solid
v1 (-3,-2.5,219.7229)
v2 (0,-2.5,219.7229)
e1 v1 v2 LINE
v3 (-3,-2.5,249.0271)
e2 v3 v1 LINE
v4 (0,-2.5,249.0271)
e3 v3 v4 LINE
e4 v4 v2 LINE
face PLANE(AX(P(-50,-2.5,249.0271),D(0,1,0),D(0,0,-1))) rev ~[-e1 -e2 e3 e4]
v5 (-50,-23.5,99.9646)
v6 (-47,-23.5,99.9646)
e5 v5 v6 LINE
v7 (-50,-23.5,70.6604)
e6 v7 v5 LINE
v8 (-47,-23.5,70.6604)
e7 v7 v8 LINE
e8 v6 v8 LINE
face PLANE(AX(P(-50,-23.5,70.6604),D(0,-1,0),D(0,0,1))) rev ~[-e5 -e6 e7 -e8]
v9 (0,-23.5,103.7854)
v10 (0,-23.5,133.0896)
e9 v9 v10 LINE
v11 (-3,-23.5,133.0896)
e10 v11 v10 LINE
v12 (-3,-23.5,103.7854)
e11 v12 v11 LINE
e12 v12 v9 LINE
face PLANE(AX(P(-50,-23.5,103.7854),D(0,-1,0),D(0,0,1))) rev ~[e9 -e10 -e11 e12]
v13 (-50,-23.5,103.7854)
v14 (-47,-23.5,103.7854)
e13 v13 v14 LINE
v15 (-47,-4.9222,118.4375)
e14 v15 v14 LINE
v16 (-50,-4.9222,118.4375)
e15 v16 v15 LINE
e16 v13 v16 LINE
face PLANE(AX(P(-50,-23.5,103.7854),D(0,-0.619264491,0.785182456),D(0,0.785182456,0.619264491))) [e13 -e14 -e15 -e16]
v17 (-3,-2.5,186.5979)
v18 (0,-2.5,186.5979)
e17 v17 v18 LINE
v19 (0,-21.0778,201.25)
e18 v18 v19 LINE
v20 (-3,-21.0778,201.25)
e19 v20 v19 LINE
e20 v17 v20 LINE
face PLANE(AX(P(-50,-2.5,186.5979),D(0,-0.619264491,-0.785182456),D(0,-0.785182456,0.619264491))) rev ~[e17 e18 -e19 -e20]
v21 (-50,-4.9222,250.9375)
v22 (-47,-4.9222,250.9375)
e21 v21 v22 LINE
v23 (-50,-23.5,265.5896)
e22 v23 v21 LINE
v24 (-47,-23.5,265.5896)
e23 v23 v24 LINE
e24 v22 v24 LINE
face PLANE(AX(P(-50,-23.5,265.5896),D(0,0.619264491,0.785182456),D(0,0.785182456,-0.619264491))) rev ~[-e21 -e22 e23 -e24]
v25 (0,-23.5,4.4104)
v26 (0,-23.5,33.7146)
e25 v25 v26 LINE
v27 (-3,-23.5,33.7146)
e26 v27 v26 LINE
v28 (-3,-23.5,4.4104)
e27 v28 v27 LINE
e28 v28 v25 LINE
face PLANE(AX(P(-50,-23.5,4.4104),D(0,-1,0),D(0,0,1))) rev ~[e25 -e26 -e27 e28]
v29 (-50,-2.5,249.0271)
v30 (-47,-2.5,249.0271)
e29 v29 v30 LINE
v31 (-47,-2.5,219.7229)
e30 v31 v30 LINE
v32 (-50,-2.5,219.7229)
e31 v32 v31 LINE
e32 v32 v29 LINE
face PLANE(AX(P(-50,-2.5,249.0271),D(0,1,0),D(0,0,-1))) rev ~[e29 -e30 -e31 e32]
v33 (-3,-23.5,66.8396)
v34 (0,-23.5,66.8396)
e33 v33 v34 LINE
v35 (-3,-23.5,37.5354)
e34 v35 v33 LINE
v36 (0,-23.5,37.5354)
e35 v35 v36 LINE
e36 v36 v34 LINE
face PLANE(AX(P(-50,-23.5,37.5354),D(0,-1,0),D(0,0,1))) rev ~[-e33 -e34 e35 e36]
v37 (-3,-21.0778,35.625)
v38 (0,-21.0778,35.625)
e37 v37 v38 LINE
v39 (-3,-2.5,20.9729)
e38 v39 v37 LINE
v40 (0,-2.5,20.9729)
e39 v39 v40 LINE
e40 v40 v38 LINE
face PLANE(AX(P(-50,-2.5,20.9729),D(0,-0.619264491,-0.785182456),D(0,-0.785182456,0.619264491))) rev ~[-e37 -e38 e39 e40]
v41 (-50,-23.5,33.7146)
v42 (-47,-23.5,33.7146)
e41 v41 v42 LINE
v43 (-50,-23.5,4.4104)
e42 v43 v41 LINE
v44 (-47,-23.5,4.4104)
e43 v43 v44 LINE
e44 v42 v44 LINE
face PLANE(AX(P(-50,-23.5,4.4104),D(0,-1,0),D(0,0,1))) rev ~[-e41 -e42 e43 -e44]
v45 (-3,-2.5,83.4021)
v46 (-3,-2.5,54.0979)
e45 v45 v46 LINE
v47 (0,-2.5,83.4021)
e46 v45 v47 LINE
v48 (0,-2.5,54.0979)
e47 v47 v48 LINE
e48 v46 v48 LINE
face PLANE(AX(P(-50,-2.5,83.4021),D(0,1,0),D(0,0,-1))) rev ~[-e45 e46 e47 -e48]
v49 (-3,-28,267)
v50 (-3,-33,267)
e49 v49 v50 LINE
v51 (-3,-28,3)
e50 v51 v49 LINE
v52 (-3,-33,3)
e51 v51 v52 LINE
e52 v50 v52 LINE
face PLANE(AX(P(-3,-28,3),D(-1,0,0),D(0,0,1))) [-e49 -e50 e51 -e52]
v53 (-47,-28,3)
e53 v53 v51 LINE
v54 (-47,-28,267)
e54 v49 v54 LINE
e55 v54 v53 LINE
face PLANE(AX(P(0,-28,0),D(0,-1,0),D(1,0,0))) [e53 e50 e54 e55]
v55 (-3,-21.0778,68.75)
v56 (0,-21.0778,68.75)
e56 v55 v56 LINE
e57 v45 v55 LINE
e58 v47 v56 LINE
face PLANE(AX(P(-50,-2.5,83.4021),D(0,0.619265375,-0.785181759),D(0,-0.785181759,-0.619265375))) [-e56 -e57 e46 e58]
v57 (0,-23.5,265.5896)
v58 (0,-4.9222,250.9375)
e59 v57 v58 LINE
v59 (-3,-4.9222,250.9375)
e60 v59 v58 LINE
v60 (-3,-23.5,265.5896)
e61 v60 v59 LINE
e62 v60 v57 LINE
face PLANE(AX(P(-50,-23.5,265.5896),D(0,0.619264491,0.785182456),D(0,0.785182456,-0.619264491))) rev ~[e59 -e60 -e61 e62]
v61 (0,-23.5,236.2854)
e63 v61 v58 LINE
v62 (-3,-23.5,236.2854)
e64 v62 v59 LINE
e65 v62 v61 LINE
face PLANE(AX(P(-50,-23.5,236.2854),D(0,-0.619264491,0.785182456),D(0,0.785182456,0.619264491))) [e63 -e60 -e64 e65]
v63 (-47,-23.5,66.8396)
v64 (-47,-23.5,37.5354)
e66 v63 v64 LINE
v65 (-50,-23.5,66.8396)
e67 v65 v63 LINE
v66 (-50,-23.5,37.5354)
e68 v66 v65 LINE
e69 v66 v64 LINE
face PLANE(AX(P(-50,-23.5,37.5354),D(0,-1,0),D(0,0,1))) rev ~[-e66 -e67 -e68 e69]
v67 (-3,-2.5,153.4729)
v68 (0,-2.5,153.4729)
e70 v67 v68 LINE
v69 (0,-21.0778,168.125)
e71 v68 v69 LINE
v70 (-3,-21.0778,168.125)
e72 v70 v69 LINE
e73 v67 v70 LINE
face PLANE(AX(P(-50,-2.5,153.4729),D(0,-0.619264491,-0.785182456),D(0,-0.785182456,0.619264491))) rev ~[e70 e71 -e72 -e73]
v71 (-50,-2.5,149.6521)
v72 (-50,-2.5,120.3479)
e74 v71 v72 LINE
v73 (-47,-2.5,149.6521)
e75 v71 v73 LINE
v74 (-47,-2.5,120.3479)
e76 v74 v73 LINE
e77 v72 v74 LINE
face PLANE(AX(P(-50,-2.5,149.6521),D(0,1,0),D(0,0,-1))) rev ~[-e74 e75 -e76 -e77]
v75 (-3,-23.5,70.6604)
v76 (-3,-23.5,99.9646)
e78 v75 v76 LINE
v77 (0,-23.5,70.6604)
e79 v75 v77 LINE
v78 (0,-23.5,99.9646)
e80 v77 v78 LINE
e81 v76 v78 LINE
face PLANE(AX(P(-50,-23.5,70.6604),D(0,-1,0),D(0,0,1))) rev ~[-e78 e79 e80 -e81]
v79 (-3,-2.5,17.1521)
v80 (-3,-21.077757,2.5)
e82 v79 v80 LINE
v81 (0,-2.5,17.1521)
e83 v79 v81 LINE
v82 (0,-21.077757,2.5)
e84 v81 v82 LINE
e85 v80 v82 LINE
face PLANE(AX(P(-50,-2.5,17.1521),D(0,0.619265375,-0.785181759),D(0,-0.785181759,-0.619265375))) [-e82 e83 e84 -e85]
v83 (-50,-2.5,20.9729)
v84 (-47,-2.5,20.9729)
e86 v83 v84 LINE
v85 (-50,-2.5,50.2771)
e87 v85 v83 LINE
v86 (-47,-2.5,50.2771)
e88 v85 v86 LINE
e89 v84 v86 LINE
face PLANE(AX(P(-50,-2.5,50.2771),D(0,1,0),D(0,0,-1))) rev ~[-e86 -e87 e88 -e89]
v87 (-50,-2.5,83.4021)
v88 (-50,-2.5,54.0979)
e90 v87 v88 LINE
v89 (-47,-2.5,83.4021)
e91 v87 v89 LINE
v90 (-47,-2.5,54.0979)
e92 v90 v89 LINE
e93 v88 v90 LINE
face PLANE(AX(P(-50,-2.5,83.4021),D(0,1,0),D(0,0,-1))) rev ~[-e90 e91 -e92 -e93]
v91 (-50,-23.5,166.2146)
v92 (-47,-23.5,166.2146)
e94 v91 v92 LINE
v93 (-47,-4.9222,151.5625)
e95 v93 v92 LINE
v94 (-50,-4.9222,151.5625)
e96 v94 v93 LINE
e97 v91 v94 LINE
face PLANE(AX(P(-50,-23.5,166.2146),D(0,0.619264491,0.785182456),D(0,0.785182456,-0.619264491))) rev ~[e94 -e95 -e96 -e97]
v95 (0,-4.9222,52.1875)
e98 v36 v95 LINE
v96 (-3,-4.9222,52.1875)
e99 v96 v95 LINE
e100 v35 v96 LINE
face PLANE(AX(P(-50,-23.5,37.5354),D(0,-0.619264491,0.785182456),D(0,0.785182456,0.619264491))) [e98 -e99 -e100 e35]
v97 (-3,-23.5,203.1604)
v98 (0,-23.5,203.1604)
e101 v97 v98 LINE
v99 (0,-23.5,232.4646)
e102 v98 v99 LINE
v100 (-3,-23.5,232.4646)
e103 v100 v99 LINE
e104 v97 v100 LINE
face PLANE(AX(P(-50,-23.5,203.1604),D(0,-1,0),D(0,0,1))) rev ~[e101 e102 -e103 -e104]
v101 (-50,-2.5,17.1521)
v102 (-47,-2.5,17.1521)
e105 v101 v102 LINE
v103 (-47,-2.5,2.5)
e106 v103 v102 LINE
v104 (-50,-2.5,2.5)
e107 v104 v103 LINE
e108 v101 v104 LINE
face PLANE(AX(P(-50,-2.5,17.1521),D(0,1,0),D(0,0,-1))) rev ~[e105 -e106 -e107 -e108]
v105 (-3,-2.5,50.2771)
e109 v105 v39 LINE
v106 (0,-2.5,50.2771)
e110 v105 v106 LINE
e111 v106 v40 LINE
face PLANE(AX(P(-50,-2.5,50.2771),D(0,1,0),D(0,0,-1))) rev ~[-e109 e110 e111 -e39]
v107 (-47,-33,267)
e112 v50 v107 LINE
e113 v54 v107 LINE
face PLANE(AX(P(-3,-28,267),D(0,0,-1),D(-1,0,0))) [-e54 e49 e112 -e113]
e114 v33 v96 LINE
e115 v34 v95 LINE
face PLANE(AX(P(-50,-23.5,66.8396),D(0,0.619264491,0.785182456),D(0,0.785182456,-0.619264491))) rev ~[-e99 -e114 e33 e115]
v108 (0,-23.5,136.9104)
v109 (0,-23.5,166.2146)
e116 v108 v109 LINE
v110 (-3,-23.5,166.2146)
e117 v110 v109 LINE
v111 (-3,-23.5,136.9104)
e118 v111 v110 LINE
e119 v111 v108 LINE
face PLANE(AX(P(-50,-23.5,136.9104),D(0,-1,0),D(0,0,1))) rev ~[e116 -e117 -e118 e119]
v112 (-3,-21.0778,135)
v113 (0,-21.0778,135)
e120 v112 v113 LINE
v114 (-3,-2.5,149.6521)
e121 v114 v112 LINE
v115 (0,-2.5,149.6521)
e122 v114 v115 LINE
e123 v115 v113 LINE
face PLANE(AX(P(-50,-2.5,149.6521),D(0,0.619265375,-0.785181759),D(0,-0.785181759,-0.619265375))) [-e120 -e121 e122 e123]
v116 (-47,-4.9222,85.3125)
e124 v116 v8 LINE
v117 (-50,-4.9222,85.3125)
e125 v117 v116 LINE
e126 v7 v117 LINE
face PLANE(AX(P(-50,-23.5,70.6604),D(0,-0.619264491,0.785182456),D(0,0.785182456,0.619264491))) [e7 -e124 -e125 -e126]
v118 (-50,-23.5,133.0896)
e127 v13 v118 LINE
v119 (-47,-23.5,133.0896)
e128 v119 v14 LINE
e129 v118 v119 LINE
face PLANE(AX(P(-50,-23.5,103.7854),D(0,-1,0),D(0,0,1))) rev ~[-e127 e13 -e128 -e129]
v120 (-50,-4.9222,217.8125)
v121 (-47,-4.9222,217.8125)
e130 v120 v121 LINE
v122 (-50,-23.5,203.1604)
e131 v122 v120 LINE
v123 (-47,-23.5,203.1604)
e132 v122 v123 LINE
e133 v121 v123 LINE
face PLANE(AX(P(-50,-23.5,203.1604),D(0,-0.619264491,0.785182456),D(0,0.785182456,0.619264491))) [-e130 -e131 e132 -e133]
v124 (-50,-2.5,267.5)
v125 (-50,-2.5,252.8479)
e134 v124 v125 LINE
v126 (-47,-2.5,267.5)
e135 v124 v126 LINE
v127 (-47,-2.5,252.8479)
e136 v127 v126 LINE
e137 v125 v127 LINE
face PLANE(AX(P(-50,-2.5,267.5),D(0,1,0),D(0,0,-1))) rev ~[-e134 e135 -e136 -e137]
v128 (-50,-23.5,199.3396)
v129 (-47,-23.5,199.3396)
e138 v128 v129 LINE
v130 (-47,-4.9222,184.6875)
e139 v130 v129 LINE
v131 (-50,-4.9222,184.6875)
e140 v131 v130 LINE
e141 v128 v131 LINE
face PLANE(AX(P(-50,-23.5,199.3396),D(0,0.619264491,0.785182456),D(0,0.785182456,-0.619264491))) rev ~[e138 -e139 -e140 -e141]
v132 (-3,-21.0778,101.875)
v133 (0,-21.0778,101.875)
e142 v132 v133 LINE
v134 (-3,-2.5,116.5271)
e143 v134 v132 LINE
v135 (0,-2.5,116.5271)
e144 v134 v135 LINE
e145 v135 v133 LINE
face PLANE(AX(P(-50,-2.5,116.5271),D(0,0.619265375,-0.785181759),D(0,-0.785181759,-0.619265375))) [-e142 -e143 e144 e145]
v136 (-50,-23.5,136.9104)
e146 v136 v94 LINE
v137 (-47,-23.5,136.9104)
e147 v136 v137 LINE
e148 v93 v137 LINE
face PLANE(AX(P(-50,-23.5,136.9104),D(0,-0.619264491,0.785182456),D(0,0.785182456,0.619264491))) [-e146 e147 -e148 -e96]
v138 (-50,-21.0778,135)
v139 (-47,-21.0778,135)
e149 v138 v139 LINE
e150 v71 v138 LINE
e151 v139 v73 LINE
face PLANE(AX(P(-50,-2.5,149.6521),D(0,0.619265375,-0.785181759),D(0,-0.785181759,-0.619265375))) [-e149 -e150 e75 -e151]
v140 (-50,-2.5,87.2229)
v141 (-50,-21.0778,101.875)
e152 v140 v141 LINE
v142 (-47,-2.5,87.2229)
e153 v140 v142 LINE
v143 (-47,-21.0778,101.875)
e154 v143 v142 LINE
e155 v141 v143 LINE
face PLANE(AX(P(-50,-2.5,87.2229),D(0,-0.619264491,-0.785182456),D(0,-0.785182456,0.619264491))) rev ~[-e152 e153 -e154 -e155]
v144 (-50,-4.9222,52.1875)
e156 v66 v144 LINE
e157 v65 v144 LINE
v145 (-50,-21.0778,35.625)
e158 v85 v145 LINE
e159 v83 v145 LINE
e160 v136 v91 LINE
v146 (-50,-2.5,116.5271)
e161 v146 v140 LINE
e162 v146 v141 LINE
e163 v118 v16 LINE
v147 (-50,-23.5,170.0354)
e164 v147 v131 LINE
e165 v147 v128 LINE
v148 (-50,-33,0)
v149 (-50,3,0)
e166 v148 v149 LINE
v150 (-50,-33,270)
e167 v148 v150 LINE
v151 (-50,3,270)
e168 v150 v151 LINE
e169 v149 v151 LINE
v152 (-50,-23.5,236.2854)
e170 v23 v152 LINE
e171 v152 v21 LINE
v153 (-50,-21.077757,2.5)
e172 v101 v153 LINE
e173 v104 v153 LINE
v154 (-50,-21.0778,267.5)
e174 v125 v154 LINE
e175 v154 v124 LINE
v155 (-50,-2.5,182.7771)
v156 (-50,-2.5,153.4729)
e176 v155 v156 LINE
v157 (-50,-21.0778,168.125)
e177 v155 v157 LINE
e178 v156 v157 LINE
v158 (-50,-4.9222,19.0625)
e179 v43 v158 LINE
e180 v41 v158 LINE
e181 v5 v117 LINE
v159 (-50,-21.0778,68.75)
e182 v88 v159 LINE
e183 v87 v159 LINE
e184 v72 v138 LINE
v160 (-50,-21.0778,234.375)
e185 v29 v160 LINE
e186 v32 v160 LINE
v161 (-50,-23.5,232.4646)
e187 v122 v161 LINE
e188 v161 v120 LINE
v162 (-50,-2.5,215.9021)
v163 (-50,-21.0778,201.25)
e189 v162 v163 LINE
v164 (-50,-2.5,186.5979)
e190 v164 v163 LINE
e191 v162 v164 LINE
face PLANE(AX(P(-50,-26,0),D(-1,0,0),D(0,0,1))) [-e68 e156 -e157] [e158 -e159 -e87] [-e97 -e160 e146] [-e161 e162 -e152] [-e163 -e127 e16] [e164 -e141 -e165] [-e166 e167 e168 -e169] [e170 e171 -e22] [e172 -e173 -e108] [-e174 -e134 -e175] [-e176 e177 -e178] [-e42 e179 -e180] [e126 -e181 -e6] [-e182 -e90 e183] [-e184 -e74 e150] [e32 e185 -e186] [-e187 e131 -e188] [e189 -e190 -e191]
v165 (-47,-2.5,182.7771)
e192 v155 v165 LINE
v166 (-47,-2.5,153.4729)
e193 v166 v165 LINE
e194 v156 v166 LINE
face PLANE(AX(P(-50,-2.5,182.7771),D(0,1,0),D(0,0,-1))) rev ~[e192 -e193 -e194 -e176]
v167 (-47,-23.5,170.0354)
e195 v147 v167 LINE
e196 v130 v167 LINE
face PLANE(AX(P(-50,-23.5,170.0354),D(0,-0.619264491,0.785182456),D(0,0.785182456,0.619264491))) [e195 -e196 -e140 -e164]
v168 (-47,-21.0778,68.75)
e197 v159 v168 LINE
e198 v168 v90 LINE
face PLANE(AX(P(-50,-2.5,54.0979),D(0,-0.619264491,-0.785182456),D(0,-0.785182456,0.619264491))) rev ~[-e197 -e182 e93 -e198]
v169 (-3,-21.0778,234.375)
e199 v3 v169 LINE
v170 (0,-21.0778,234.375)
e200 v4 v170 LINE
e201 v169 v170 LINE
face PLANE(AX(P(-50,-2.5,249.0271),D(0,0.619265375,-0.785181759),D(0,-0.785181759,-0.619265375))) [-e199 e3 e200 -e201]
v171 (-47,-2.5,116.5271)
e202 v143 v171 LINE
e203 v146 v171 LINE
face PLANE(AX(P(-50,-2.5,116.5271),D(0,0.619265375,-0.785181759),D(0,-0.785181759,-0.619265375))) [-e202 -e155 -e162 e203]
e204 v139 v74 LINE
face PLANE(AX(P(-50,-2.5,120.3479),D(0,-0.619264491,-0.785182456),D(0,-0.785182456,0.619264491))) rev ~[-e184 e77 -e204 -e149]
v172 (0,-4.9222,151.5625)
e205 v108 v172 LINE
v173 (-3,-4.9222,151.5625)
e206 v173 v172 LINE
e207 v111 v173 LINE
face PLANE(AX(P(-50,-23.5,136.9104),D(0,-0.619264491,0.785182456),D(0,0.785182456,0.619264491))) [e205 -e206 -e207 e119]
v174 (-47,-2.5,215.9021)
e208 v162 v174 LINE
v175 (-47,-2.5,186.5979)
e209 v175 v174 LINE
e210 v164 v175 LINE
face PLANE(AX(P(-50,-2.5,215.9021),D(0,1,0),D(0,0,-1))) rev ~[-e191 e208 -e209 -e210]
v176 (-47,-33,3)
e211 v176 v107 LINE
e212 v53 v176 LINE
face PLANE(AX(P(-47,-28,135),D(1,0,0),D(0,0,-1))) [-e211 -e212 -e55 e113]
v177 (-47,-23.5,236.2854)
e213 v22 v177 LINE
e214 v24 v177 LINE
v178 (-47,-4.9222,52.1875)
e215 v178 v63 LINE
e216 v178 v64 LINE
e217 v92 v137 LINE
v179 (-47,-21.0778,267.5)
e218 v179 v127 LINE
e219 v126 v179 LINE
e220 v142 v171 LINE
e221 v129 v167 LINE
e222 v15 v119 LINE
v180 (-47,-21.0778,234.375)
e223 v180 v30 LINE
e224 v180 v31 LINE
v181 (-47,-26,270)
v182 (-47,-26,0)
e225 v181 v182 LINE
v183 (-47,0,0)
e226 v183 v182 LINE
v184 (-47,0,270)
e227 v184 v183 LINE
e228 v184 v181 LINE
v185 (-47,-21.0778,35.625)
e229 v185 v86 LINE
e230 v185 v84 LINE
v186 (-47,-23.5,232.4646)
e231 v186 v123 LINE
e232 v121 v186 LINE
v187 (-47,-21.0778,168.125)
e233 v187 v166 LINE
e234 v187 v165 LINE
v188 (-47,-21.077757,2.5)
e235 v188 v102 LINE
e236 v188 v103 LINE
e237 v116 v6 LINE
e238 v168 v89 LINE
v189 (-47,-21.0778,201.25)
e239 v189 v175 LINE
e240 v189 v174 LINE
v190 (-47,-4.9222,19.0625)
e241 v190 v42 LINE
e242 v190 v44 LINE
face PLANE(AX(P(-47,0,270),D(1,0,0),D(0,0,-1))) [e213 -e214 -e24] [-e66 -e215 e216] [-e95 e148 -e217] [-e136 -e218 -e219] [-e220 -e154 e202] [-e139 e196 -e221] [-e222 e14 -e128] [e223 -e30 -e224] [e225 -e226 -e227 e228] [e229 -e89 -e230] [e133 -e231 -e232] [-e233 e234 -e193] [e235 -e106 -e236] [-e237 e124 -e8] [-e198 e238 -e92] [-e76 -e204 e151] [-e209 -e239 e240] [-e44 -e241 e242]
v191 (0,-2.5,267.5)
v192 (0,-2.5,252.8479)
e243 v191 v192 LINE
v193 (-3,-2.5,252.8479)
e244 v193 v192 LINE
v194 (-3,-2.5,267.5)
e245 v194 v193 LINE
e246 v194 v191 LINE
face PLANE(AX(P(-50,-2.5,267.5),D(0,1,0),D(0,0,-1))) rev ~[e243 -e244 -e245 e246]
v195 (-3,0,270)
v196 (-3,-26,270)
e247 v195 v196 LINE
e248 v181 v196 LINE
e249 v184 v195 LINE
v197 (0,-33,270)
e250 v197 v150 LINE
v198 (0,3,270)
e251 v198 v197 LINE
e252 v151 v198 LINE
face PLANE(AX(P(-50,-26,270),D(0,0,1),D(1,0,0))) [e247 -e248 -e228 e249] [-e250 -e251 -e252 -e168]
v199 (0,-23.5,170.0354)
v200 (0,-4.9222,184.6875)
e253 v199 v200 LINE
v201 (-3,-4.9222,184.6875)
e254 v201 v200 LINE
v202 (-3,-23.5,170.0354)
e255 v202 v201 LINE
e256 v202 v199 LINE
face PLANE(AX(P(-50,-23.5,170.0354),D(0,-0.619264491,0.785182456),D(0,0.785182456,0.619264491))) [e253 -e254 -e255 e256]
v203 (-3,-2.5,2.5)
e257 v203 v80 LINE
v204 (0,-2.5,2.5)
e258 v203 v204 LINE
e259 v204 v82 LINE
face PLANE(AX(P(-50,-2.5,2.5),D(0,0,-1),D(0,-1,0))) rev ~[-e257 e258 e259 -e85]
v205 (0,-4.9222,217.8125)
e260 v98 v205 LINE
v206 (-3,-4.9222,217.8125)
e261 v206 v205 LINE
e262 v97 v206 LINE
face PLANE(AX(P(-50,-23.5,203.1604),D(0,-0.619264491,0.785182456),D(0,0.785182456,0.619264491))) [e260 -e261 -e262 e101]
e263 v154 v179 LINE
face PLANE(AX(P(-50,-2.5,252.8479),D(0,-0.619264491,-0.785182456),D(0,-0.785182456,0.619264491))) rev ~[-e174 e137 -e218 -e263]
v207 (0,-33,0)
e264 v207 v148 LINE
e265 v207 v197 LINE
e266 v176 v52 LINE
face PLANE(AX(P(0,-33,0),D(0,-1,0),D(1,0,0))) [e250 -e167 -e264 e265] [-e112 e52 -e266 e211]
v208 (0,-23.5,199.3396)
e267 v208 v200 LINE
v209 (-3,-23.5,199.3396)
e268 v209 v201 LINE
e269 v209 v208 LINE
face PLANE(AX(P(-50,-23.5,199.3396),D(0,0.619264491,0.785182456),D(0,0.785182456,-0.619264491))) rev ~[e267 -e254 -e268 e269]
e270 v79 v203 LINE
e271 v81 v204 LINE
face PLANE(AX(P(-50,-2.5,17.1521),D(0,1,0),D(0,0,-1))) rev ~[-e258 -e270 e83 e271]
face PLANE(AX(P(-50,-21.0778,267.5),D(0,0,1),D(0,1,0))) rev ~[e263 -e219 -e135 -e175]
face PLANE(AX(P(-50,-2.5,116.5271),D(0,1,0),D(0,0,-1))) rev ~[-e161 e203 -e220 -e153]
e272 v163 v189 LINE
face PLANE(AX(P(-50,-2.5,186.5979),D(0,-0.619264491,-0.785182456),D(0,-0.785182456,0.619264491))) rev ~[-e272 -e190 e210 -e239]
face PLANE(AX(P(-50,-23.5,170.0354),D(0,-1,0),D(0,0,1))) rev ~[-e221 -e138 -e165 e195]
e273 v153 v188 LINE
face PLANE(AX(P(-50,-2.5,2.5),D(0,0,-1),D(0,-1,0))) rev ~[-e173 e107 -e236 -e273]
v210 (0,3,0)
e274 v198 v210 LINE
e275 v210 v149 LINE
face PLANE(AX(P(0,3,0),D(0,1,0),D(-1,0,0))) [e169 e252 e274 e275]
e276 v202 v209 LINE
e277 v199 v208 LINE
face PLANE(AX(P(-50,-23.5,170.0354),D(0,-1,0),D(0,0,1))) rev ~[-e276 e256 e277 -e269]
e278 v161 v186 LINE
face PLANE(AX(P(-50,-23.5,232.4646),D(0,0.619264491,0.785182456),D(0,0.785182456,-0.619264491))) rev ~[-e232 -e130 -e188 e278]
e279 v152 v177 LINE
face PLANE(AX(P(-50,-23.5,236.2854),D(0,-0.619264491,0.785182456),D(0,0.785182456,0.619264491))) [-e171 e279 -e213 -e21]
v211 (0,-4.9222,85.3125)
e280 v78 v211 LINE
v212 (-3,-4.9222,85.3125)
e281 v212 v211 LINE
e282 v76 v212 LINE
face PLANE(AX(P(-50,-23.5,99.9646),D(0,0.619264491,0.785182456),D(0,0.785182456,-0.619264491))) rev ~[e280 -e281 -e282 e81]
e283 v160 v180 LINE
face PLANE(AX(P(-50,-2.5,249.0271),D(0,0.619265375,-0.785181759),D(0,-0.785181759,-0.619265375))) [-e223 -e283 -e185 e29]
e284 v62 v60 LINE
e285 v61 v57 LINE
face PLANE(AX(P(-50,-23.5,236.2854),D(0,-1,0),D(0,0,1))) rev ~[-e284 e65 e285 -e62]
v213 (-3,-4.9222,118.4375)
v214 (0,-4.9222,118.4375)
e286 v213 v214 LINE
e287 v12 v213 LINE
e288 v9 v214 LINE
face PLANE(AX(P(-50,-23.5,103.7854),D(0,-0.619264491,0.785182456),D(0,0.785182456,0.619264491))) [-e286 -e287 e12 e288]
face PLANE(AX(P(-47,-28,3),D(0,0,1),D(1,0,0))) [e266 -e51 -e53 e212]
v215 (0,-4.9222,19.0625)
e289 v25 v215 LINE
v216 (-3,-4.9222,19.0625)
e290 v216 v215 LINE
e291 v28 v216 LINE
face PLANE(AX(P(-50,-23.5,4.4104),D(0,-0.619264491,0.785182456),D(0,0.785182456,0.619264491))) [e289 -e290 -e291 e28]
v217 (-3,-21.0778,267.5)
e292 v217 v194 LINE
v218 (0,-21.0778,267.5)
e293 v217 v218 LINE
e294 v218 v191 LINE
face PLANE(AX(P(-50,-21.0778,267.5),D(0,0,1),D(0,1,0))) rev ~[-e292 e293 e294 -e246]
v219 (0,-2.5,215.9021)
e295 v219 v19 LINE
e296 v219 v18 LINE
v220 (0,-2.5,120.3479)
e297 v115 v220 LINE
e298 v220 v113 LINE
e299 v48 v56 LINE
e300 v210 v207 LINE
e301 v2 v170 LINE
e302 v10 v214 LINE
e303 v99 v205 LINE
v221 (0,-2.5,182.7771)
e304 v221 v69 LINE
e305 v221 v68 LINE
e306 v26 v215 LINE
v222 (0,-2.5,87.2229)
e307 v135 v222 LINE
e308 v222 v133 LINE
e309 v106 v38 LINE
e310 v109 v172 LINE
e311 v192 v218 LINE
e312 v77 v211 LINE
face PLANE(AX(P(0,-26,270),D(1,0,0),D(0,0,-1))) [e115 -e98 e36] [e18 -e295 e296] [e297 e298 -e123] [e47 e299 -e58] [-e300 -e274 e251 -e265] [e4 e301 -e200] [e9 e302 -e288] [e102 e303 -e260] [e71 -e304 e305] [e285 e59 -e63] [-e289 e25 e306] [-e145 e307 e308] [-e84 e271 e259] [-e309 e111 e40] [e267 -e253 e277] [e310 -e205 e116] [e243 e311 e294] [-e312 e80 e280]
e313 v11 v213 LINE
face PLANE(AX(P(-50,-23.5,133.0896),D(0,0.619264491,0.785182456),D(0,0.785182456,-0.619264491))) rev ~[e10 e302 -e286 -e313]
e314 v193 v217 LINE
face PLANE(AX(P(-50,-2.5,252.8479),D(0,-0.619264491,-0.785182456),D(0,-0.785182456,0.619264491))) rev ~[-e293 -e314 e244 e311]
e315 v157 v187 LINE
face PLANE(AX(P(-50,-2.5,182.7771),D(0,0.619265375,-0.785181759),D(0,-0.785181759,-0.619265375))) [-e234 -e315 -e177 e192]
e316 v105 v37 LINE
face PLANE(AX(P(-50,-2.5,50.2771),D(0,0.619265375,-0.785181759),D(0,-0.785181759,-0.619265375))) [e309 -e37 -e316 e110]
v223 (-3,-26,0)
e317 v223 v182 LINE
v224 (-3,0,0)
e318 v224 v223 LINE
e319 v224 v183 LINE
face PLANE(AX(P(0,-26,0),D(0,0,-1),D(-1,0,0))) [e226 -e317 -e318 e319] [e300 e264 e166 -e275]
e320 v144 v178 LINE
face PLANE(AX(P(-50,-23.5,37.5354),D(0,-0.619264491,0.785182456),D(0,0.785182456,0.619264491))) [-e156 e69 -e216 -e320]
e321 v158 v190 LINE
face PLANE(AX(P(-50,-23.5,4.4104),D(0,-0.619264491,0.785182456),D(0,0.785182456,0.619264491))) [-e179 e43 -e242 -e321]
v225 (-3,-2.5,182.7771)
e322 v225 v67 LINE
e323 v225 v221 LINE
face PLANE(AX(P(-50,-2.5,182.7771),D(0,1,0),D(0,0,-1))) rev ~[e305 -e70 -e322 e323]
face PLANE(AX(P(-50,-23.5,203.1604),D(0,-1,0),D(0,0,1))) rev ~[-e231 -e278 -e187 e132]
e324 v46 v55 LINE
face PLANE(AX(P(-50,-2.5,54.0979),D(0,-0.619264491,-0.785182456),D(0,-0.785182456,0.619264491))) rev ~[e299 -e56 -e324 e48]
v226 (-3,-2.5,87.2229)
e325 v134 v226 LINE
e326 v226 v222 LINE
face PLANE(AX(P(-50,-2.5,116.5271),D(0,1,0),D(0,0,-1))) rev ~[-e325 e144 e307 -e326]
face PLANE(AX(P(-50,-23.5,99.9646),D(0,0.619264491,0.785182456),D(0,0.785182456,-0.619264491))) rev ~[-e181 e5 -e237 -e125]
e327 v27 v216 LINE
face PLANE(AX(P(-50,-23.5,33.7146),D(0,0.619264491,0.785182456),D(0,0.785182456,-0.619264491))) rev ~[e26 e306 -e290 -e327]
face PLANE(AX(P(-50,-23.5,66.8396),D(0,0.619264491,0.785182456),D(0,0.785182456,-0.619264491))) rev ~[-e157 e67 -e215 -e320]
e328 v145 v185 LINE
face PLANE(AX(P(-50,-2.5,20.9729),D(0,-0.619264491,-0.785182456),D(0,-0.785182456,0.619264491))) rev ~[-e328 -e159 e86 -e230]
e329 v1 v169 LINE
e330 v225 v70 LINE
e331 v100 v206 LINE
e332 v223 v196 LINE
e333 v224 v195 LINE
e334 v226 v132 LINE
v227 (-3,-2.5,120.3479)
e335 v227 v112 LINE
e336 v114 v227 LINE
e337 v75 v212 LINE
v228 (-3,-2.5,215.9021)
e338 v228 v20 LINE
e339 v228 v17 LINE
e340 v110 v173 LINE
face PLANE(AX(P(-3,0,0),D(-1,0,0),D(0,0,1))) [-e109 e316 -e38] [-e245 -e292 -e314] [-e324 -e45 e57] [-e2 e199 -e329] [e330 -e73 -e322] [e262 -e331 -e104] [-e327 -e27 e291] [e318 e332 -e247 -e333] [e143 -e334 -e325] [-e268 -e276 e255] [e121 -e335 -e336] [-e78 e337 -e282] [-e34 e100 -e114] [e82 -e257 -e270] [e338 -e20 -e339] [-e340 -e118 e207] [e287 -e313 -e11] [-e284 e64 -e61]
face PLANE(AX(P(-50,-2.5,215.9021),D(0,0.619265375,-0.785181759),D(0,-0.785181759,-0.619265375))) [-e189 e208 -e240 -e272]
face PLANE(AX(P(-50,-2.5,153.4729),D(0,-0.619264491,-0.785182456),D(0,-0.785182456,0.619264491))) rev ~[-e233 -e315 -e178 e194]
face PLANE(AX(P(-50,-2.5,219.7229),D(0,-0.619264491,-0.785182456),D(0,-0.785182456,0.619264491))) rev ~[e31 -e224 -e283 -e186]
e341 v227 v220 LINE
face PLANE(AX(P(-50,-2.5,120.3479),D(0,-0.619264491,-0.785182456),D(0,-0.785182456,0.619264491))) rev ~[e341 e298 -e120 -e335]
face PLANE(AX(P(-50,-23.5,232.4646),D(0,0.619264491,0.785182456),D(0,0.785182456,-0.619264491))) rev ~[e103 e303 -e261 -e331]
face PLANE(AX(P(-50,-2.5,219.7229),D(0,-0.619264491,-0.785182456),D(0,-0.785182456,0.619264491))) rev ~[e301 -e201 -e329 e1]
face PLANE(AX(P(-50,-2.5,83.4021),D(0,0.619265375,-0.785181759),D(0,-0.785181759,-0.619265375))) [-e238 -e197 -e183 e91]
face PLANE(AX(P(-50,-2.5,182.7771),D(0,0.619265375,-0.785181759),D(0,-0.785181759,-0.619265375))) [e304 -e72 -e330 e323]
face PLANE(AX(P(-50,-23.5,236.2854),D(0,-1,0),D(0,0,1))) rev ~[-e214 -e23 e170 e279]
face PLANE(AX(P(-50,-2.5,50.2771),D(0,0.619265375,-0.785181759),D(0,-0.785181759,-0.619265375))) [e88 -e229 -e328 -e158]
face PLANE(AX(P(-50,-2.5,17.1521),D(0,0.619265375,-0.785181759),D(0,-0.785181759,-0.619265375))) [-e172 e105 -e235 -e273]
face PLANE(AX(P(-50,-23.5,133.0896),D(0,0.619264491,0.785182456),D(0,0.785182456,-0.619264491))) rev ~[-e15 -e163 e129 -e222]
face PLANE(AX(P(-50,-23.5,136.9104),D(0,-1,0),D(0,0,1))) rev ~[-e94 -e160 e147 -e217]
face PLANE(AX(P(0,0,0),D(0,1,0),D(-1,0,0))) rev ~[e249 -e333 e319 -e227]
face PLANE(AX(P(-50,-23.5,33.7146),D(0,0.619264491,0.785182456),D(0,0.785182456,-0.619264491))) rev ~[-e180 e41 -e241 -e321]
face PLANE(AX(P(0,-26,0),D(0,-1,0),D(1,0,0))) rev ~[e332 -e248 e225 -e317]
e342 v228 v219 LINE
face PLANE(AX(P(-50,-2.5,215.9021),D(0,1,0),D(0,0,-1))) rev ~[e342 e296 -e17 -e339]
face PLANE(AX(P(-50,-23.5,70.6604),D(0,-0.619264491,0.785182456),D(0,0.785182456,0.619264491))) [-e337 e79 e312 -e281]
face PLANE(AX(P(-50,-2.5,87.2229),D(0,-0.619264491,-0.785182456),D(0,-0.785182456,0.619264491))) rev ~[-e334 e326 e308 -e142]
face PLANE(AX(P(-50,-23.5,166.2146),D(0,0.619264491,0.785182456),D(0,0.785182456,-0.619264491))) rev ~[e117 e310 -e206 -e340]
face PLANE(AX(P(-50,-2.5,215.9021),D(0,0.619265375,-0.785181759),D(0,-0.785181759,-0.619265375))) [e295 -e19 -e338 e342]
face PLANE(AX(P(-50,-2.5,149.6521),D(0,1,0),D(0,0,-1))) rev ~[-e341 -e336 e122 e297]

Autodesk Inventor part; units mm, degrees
ref_plane "YZ Plane" through (0, 0, 0) normal (1, 0, 0) x (0, 1, 0)
ref_plane "XZ Plane" through (0, 0, 0) normal (0, 1, 0) x (-1, 0, 0)
ref_plane "XY Plane" through (0, 0, 0) normal (0, 0, 1) x (1, 0, 0)
sketch "Sketch10" plane through (0, 0, 0) normal (0, 1, 0) x (-1, 0, 0)
  point P0 (0, 0)
sketch "Sketch11" plane through (0, 0, 0) normal (0, 1, 0) x (-1, 0, 0)
  line L0 (0, 0) -> (50, 0)
  line L1 (50, 0) -> (50, 270)
  line L2 (50, 270) -> (0, 270)
  line L3 (0, 270) -> (0, 0)
  dimension "d34" = 50
  dimension "d35" = 270
extrude "Extrusion6" add sketch "Sketch11" along normal blind 3
sketch "Sketch12" plane through (0, 0, 0) normal (0, -1, 0) x (1, 0, 0)
  line L0 (-50, 270) -> (0, 270) projected
  line L1 (-25, 270) -> (-25, 0)
  line L2 (0, 0) -> (-50, 0) projected
  line L3 (-3, 270) -> (-47, 270)
  line L4 (-47, 270) -> (-47, 0)
  line L5 (-47, 0) -> (-3, 0)
  line L6 (-3, 0) -> (-3, 270)
  line L7 (-3, 270) -> (-47, 0) construction
  line L8 (-47, 270) -> (-3, 0) construction
  line L9 (-50, 0) -> (0, 0)
  line L10 (0, 0) -> (0, 270)
  line L11 (0, 270) -> (-50, 270)
  line L12 (-50, 270) -> (-50, 0)
  point P0 (-25, 135)
  point P1 (-3, 0)
  dimension "d38" = 44
extrude "Extrusion7" add sketch "Sketch12" along normal blind 26 contours L0 L4 L2 L12 | L0 L10 L2 L6
sketch "Sketch13" plane through (-50, 3, 0) normal (-1, 0, 0) x (0, 0, 1)
  line L0 (270, -3) -> (270, -29) projected
  line L1 (270, -29) -> (0, -29)
  line L2 (0, -29) -> (0, -3)
  line L3 (0, -3) -> (270, -3)
  line L4 (270, -3) -> (270, -29)
  line L5 (2.5, -26.5) -> (267.5, -26.5)
  line L6 (267.5, -26.5) -> (267.5, -5.5)
  line L7 (267.5, -5.5) -> (2.5, -5.5)
  line L8 (2.5, -5.5) -> (2.5, -26.5)
  line L9 (267.5, -26.5) -> (250.9375, -5.5)
  line L10 (250.9375, -5.5) -> (250.9375, -26.5)
  line L11 (234.375, -26.5) -> (250.9375, -5.5)
  line L12 (265.5896, -26.5) -> (250.9375, -7.9222)
  line L13 (236.2854, -26.5) -> (250.9375, -7.9222)
  line L14 (252.8479, -5.5) -> (267.5, -24.0778)
  line L15 (249.0271, -5.5) -> (232.4646, -26.5)
  line L16 (234.375, -26.5) -> (234.375, -5.5)
  line L17 (232.4646, -26.5) -> (217.8125, -7.9222)
  line L18 (219.7229, -5.5) -> (234.375, -24.0778)
  line L19 (203.1604, -26.5) -> (217.8125, -7.9222)
  line L20 (215.9021, -5.5) -> (199.3396, -26.5)
  line L21 (199.3396, -26.5) -> (184.6875, -7.9222)
  line L22 (186.5979, -5.5) -> (201.25, -24.0778)
  line L23 (170.0354, -26.5) -> (184.6875, -7.9222)
  line L24 (182.7771, -5.5) -> (166.2146, -26.5)
  line L25 (166.2146, -26.5) -> (151.5625, -7.9222)
  line L26 (153.4729, -5.5) -> (168.125, -24.0778)
  line L27 (136.9104, -26.5) -> (151.5625, -7.9222)
  line L28 (149.6521, -5.5) -> (133.0896, -26.5)
  line L29 (133.0896, -26.5) -> (118.4375, -7.9222)
  line L30 (120.3479, -5.5) -> (135, -24.0778)
  line L31 (103.7854, -26.5) -> (118.4375, -7.9222)
  line L32 (116.5271, -5.5) -> (99.9646, -26.5)
  line L33 (99.9646, -26.5) -> (85.3125, -7.9222)
  line L34 (87.2229, -5.5) -> (101.875, -24.0778)
  line L35 (70.6604, -26.5) -> (85.3125, -7.9222)
  line L36 (83.4021, -5.5) -> (66.8396, -26.5)
  line L37 (66.8396, -26.5) -> (52.1875, -7.9222)
  line L38 (54.0979, -5.5) -> (68.75, -24.0778)
  line L39 (37.5354, -26.5) -> (52.1875, -7.9222)
  line L40 (50.2771, -5.5) -> (33.7146, -26.5)
  line L41 (33.7146, -26.5) -> (19.0625, -7.9222)
  line L42 (20.9729, -5.5) -> (35.625, -24.0778)
  line L43 (4.4104, -26.5) -> (19.0625, -7.9222)
  line L44 (17.1521, -5.5) -> (0.5896, -26.5)
  point P0 (2.5, -24.0778)
  point P1 (17.1521, -5.5)
  point P2 (20.9729, -5.5)
  point P3 (35.625, -24.0778)
  point P4 (50.2771, -5.5)
  point P5 (37.5354, -26.5)
  point P6 (66.8396, -26.5)
  point P7 (70.6604, -26.5)
  point P8 (99.9646, -26.5)
  point P9 (54.0979, -5.5)
  point P10 (68.75, -24.0778)
  point P11 (83.4021, -5.5)
  point P12 (87.2229, -5.5)
  point P13 (101.875, -24.0778)
  point P14 (116.5271, -5.5)
  point P15 (120.3479, -5.5)
  point P16 (135, -24.0778)
  point P17 (149.6521, -5.5)
  point P18 (103.7854, -26.5)
  point P19 (136.9104, -26.5)
  point P20 (153.4729, -5.5)
  point P21 (168.125, -24.0778)
  point P22 (182.7771, -5.5)
  point P23 (186.5979, -5.5)
  point P24 (201.25, -24.0778)
  point P25 (215.9021, -5.5)
  point P26 (234.375, -24.0778)
  point P27 (219.7229, -5.5)
  point P28 (99.9646, -26.5)
  dimension "d41" = 2.5
  dimension "d42" = 265
  dimension "d43" = 1.5
  dimension "d45" = 1.5
  dimension "d46" = 1.5
  dimension "d47" = 33.125
  dimension "d50" = 33.125
extrude "Extrusion9" cut sketch "Sketch13" against normal through all contours L43 L41 L5 | L8 L7 L44 | L39 L37 L5 | L42 L7 L40 | L35 L33 L5 | L38 L7 L36 | L31 L29 L5 | L34 L7 L32 | L27 L25 L5 | L30 L7 L28 | L23 L21 L5 | L26 L7 L24 | L19 L17 L5 | L22 L7 L20 | L16 L7 L15 | L18 L7 L16 | L13 L10 L5 | L10 L12 L5 | L7 L6 L14
sketch "Sketch14" plane through (0, -26, 0) normal (0, -1, 0) x (1, 0, 0)
  line L0 (0, 0) -> (-50, 0)
  line L1 (-50, 0) -> (-50, 270)
  line L2 (-50, 270) -> (0, 270)
  line L3 (0, 270) -> (0, 0)
extrude "Extrusion10" add sketch "Sketch14" along normal blind 2
sketch "Sketch15" plane through (0, -28, 0) normal (0, -1, 0) x (1, 0, 0)
  line L0 (-50, 0) -> (-50, 270) projected
  line L1 (-50, 135) -> (0, 135)
  line L2 (-3, 0) -> (-3, 270) projected
  line L3 (-47, 3) -> (-3, 3)
  line L4 (-3, 3) -> (-3, 267)
  line L5 (-3, 267) -> (-47, 267)
  line L6 (-47, 267) -> (-47, 3)
  line L7 (-47, 3) -> (-3, 267) construction
  line L8 (-3, 3) -> (-47, 267) construction
  line L9 (0, 270) -> (-50, 270) projected
  line L10 (0, 270) -> (0, 0) projected
  line L11 (-50, 270) -> (0, 270)
  line L12 (0, 270) -> (0, 0)
  line L13 (0, 0) -> (-50, 0)
  line L14 (-50, 0) -> (-50, 270)
  line L15 (-50, 270) -> (0, 0) construction
  line L16 (0, 270) -> (-50, 0) construction
  point P0 (-25, 135)
  dimension "d61" = 3
  dimension "d62" = 3
  dimension "d65" = 0
extrude "Extrusion11" add sketch "Sketch15" along normal blind 5 contours L0 L1 L6 L3 L2 L13 | L0 L9 L2 L5 L6 L1 | L2 L1 L10 L13 | L9 L10 L1 L2
equation "\"d47\" = 0.125 * d42"
properties part number "Avionics frame" material "PC/ABS Plastic"
